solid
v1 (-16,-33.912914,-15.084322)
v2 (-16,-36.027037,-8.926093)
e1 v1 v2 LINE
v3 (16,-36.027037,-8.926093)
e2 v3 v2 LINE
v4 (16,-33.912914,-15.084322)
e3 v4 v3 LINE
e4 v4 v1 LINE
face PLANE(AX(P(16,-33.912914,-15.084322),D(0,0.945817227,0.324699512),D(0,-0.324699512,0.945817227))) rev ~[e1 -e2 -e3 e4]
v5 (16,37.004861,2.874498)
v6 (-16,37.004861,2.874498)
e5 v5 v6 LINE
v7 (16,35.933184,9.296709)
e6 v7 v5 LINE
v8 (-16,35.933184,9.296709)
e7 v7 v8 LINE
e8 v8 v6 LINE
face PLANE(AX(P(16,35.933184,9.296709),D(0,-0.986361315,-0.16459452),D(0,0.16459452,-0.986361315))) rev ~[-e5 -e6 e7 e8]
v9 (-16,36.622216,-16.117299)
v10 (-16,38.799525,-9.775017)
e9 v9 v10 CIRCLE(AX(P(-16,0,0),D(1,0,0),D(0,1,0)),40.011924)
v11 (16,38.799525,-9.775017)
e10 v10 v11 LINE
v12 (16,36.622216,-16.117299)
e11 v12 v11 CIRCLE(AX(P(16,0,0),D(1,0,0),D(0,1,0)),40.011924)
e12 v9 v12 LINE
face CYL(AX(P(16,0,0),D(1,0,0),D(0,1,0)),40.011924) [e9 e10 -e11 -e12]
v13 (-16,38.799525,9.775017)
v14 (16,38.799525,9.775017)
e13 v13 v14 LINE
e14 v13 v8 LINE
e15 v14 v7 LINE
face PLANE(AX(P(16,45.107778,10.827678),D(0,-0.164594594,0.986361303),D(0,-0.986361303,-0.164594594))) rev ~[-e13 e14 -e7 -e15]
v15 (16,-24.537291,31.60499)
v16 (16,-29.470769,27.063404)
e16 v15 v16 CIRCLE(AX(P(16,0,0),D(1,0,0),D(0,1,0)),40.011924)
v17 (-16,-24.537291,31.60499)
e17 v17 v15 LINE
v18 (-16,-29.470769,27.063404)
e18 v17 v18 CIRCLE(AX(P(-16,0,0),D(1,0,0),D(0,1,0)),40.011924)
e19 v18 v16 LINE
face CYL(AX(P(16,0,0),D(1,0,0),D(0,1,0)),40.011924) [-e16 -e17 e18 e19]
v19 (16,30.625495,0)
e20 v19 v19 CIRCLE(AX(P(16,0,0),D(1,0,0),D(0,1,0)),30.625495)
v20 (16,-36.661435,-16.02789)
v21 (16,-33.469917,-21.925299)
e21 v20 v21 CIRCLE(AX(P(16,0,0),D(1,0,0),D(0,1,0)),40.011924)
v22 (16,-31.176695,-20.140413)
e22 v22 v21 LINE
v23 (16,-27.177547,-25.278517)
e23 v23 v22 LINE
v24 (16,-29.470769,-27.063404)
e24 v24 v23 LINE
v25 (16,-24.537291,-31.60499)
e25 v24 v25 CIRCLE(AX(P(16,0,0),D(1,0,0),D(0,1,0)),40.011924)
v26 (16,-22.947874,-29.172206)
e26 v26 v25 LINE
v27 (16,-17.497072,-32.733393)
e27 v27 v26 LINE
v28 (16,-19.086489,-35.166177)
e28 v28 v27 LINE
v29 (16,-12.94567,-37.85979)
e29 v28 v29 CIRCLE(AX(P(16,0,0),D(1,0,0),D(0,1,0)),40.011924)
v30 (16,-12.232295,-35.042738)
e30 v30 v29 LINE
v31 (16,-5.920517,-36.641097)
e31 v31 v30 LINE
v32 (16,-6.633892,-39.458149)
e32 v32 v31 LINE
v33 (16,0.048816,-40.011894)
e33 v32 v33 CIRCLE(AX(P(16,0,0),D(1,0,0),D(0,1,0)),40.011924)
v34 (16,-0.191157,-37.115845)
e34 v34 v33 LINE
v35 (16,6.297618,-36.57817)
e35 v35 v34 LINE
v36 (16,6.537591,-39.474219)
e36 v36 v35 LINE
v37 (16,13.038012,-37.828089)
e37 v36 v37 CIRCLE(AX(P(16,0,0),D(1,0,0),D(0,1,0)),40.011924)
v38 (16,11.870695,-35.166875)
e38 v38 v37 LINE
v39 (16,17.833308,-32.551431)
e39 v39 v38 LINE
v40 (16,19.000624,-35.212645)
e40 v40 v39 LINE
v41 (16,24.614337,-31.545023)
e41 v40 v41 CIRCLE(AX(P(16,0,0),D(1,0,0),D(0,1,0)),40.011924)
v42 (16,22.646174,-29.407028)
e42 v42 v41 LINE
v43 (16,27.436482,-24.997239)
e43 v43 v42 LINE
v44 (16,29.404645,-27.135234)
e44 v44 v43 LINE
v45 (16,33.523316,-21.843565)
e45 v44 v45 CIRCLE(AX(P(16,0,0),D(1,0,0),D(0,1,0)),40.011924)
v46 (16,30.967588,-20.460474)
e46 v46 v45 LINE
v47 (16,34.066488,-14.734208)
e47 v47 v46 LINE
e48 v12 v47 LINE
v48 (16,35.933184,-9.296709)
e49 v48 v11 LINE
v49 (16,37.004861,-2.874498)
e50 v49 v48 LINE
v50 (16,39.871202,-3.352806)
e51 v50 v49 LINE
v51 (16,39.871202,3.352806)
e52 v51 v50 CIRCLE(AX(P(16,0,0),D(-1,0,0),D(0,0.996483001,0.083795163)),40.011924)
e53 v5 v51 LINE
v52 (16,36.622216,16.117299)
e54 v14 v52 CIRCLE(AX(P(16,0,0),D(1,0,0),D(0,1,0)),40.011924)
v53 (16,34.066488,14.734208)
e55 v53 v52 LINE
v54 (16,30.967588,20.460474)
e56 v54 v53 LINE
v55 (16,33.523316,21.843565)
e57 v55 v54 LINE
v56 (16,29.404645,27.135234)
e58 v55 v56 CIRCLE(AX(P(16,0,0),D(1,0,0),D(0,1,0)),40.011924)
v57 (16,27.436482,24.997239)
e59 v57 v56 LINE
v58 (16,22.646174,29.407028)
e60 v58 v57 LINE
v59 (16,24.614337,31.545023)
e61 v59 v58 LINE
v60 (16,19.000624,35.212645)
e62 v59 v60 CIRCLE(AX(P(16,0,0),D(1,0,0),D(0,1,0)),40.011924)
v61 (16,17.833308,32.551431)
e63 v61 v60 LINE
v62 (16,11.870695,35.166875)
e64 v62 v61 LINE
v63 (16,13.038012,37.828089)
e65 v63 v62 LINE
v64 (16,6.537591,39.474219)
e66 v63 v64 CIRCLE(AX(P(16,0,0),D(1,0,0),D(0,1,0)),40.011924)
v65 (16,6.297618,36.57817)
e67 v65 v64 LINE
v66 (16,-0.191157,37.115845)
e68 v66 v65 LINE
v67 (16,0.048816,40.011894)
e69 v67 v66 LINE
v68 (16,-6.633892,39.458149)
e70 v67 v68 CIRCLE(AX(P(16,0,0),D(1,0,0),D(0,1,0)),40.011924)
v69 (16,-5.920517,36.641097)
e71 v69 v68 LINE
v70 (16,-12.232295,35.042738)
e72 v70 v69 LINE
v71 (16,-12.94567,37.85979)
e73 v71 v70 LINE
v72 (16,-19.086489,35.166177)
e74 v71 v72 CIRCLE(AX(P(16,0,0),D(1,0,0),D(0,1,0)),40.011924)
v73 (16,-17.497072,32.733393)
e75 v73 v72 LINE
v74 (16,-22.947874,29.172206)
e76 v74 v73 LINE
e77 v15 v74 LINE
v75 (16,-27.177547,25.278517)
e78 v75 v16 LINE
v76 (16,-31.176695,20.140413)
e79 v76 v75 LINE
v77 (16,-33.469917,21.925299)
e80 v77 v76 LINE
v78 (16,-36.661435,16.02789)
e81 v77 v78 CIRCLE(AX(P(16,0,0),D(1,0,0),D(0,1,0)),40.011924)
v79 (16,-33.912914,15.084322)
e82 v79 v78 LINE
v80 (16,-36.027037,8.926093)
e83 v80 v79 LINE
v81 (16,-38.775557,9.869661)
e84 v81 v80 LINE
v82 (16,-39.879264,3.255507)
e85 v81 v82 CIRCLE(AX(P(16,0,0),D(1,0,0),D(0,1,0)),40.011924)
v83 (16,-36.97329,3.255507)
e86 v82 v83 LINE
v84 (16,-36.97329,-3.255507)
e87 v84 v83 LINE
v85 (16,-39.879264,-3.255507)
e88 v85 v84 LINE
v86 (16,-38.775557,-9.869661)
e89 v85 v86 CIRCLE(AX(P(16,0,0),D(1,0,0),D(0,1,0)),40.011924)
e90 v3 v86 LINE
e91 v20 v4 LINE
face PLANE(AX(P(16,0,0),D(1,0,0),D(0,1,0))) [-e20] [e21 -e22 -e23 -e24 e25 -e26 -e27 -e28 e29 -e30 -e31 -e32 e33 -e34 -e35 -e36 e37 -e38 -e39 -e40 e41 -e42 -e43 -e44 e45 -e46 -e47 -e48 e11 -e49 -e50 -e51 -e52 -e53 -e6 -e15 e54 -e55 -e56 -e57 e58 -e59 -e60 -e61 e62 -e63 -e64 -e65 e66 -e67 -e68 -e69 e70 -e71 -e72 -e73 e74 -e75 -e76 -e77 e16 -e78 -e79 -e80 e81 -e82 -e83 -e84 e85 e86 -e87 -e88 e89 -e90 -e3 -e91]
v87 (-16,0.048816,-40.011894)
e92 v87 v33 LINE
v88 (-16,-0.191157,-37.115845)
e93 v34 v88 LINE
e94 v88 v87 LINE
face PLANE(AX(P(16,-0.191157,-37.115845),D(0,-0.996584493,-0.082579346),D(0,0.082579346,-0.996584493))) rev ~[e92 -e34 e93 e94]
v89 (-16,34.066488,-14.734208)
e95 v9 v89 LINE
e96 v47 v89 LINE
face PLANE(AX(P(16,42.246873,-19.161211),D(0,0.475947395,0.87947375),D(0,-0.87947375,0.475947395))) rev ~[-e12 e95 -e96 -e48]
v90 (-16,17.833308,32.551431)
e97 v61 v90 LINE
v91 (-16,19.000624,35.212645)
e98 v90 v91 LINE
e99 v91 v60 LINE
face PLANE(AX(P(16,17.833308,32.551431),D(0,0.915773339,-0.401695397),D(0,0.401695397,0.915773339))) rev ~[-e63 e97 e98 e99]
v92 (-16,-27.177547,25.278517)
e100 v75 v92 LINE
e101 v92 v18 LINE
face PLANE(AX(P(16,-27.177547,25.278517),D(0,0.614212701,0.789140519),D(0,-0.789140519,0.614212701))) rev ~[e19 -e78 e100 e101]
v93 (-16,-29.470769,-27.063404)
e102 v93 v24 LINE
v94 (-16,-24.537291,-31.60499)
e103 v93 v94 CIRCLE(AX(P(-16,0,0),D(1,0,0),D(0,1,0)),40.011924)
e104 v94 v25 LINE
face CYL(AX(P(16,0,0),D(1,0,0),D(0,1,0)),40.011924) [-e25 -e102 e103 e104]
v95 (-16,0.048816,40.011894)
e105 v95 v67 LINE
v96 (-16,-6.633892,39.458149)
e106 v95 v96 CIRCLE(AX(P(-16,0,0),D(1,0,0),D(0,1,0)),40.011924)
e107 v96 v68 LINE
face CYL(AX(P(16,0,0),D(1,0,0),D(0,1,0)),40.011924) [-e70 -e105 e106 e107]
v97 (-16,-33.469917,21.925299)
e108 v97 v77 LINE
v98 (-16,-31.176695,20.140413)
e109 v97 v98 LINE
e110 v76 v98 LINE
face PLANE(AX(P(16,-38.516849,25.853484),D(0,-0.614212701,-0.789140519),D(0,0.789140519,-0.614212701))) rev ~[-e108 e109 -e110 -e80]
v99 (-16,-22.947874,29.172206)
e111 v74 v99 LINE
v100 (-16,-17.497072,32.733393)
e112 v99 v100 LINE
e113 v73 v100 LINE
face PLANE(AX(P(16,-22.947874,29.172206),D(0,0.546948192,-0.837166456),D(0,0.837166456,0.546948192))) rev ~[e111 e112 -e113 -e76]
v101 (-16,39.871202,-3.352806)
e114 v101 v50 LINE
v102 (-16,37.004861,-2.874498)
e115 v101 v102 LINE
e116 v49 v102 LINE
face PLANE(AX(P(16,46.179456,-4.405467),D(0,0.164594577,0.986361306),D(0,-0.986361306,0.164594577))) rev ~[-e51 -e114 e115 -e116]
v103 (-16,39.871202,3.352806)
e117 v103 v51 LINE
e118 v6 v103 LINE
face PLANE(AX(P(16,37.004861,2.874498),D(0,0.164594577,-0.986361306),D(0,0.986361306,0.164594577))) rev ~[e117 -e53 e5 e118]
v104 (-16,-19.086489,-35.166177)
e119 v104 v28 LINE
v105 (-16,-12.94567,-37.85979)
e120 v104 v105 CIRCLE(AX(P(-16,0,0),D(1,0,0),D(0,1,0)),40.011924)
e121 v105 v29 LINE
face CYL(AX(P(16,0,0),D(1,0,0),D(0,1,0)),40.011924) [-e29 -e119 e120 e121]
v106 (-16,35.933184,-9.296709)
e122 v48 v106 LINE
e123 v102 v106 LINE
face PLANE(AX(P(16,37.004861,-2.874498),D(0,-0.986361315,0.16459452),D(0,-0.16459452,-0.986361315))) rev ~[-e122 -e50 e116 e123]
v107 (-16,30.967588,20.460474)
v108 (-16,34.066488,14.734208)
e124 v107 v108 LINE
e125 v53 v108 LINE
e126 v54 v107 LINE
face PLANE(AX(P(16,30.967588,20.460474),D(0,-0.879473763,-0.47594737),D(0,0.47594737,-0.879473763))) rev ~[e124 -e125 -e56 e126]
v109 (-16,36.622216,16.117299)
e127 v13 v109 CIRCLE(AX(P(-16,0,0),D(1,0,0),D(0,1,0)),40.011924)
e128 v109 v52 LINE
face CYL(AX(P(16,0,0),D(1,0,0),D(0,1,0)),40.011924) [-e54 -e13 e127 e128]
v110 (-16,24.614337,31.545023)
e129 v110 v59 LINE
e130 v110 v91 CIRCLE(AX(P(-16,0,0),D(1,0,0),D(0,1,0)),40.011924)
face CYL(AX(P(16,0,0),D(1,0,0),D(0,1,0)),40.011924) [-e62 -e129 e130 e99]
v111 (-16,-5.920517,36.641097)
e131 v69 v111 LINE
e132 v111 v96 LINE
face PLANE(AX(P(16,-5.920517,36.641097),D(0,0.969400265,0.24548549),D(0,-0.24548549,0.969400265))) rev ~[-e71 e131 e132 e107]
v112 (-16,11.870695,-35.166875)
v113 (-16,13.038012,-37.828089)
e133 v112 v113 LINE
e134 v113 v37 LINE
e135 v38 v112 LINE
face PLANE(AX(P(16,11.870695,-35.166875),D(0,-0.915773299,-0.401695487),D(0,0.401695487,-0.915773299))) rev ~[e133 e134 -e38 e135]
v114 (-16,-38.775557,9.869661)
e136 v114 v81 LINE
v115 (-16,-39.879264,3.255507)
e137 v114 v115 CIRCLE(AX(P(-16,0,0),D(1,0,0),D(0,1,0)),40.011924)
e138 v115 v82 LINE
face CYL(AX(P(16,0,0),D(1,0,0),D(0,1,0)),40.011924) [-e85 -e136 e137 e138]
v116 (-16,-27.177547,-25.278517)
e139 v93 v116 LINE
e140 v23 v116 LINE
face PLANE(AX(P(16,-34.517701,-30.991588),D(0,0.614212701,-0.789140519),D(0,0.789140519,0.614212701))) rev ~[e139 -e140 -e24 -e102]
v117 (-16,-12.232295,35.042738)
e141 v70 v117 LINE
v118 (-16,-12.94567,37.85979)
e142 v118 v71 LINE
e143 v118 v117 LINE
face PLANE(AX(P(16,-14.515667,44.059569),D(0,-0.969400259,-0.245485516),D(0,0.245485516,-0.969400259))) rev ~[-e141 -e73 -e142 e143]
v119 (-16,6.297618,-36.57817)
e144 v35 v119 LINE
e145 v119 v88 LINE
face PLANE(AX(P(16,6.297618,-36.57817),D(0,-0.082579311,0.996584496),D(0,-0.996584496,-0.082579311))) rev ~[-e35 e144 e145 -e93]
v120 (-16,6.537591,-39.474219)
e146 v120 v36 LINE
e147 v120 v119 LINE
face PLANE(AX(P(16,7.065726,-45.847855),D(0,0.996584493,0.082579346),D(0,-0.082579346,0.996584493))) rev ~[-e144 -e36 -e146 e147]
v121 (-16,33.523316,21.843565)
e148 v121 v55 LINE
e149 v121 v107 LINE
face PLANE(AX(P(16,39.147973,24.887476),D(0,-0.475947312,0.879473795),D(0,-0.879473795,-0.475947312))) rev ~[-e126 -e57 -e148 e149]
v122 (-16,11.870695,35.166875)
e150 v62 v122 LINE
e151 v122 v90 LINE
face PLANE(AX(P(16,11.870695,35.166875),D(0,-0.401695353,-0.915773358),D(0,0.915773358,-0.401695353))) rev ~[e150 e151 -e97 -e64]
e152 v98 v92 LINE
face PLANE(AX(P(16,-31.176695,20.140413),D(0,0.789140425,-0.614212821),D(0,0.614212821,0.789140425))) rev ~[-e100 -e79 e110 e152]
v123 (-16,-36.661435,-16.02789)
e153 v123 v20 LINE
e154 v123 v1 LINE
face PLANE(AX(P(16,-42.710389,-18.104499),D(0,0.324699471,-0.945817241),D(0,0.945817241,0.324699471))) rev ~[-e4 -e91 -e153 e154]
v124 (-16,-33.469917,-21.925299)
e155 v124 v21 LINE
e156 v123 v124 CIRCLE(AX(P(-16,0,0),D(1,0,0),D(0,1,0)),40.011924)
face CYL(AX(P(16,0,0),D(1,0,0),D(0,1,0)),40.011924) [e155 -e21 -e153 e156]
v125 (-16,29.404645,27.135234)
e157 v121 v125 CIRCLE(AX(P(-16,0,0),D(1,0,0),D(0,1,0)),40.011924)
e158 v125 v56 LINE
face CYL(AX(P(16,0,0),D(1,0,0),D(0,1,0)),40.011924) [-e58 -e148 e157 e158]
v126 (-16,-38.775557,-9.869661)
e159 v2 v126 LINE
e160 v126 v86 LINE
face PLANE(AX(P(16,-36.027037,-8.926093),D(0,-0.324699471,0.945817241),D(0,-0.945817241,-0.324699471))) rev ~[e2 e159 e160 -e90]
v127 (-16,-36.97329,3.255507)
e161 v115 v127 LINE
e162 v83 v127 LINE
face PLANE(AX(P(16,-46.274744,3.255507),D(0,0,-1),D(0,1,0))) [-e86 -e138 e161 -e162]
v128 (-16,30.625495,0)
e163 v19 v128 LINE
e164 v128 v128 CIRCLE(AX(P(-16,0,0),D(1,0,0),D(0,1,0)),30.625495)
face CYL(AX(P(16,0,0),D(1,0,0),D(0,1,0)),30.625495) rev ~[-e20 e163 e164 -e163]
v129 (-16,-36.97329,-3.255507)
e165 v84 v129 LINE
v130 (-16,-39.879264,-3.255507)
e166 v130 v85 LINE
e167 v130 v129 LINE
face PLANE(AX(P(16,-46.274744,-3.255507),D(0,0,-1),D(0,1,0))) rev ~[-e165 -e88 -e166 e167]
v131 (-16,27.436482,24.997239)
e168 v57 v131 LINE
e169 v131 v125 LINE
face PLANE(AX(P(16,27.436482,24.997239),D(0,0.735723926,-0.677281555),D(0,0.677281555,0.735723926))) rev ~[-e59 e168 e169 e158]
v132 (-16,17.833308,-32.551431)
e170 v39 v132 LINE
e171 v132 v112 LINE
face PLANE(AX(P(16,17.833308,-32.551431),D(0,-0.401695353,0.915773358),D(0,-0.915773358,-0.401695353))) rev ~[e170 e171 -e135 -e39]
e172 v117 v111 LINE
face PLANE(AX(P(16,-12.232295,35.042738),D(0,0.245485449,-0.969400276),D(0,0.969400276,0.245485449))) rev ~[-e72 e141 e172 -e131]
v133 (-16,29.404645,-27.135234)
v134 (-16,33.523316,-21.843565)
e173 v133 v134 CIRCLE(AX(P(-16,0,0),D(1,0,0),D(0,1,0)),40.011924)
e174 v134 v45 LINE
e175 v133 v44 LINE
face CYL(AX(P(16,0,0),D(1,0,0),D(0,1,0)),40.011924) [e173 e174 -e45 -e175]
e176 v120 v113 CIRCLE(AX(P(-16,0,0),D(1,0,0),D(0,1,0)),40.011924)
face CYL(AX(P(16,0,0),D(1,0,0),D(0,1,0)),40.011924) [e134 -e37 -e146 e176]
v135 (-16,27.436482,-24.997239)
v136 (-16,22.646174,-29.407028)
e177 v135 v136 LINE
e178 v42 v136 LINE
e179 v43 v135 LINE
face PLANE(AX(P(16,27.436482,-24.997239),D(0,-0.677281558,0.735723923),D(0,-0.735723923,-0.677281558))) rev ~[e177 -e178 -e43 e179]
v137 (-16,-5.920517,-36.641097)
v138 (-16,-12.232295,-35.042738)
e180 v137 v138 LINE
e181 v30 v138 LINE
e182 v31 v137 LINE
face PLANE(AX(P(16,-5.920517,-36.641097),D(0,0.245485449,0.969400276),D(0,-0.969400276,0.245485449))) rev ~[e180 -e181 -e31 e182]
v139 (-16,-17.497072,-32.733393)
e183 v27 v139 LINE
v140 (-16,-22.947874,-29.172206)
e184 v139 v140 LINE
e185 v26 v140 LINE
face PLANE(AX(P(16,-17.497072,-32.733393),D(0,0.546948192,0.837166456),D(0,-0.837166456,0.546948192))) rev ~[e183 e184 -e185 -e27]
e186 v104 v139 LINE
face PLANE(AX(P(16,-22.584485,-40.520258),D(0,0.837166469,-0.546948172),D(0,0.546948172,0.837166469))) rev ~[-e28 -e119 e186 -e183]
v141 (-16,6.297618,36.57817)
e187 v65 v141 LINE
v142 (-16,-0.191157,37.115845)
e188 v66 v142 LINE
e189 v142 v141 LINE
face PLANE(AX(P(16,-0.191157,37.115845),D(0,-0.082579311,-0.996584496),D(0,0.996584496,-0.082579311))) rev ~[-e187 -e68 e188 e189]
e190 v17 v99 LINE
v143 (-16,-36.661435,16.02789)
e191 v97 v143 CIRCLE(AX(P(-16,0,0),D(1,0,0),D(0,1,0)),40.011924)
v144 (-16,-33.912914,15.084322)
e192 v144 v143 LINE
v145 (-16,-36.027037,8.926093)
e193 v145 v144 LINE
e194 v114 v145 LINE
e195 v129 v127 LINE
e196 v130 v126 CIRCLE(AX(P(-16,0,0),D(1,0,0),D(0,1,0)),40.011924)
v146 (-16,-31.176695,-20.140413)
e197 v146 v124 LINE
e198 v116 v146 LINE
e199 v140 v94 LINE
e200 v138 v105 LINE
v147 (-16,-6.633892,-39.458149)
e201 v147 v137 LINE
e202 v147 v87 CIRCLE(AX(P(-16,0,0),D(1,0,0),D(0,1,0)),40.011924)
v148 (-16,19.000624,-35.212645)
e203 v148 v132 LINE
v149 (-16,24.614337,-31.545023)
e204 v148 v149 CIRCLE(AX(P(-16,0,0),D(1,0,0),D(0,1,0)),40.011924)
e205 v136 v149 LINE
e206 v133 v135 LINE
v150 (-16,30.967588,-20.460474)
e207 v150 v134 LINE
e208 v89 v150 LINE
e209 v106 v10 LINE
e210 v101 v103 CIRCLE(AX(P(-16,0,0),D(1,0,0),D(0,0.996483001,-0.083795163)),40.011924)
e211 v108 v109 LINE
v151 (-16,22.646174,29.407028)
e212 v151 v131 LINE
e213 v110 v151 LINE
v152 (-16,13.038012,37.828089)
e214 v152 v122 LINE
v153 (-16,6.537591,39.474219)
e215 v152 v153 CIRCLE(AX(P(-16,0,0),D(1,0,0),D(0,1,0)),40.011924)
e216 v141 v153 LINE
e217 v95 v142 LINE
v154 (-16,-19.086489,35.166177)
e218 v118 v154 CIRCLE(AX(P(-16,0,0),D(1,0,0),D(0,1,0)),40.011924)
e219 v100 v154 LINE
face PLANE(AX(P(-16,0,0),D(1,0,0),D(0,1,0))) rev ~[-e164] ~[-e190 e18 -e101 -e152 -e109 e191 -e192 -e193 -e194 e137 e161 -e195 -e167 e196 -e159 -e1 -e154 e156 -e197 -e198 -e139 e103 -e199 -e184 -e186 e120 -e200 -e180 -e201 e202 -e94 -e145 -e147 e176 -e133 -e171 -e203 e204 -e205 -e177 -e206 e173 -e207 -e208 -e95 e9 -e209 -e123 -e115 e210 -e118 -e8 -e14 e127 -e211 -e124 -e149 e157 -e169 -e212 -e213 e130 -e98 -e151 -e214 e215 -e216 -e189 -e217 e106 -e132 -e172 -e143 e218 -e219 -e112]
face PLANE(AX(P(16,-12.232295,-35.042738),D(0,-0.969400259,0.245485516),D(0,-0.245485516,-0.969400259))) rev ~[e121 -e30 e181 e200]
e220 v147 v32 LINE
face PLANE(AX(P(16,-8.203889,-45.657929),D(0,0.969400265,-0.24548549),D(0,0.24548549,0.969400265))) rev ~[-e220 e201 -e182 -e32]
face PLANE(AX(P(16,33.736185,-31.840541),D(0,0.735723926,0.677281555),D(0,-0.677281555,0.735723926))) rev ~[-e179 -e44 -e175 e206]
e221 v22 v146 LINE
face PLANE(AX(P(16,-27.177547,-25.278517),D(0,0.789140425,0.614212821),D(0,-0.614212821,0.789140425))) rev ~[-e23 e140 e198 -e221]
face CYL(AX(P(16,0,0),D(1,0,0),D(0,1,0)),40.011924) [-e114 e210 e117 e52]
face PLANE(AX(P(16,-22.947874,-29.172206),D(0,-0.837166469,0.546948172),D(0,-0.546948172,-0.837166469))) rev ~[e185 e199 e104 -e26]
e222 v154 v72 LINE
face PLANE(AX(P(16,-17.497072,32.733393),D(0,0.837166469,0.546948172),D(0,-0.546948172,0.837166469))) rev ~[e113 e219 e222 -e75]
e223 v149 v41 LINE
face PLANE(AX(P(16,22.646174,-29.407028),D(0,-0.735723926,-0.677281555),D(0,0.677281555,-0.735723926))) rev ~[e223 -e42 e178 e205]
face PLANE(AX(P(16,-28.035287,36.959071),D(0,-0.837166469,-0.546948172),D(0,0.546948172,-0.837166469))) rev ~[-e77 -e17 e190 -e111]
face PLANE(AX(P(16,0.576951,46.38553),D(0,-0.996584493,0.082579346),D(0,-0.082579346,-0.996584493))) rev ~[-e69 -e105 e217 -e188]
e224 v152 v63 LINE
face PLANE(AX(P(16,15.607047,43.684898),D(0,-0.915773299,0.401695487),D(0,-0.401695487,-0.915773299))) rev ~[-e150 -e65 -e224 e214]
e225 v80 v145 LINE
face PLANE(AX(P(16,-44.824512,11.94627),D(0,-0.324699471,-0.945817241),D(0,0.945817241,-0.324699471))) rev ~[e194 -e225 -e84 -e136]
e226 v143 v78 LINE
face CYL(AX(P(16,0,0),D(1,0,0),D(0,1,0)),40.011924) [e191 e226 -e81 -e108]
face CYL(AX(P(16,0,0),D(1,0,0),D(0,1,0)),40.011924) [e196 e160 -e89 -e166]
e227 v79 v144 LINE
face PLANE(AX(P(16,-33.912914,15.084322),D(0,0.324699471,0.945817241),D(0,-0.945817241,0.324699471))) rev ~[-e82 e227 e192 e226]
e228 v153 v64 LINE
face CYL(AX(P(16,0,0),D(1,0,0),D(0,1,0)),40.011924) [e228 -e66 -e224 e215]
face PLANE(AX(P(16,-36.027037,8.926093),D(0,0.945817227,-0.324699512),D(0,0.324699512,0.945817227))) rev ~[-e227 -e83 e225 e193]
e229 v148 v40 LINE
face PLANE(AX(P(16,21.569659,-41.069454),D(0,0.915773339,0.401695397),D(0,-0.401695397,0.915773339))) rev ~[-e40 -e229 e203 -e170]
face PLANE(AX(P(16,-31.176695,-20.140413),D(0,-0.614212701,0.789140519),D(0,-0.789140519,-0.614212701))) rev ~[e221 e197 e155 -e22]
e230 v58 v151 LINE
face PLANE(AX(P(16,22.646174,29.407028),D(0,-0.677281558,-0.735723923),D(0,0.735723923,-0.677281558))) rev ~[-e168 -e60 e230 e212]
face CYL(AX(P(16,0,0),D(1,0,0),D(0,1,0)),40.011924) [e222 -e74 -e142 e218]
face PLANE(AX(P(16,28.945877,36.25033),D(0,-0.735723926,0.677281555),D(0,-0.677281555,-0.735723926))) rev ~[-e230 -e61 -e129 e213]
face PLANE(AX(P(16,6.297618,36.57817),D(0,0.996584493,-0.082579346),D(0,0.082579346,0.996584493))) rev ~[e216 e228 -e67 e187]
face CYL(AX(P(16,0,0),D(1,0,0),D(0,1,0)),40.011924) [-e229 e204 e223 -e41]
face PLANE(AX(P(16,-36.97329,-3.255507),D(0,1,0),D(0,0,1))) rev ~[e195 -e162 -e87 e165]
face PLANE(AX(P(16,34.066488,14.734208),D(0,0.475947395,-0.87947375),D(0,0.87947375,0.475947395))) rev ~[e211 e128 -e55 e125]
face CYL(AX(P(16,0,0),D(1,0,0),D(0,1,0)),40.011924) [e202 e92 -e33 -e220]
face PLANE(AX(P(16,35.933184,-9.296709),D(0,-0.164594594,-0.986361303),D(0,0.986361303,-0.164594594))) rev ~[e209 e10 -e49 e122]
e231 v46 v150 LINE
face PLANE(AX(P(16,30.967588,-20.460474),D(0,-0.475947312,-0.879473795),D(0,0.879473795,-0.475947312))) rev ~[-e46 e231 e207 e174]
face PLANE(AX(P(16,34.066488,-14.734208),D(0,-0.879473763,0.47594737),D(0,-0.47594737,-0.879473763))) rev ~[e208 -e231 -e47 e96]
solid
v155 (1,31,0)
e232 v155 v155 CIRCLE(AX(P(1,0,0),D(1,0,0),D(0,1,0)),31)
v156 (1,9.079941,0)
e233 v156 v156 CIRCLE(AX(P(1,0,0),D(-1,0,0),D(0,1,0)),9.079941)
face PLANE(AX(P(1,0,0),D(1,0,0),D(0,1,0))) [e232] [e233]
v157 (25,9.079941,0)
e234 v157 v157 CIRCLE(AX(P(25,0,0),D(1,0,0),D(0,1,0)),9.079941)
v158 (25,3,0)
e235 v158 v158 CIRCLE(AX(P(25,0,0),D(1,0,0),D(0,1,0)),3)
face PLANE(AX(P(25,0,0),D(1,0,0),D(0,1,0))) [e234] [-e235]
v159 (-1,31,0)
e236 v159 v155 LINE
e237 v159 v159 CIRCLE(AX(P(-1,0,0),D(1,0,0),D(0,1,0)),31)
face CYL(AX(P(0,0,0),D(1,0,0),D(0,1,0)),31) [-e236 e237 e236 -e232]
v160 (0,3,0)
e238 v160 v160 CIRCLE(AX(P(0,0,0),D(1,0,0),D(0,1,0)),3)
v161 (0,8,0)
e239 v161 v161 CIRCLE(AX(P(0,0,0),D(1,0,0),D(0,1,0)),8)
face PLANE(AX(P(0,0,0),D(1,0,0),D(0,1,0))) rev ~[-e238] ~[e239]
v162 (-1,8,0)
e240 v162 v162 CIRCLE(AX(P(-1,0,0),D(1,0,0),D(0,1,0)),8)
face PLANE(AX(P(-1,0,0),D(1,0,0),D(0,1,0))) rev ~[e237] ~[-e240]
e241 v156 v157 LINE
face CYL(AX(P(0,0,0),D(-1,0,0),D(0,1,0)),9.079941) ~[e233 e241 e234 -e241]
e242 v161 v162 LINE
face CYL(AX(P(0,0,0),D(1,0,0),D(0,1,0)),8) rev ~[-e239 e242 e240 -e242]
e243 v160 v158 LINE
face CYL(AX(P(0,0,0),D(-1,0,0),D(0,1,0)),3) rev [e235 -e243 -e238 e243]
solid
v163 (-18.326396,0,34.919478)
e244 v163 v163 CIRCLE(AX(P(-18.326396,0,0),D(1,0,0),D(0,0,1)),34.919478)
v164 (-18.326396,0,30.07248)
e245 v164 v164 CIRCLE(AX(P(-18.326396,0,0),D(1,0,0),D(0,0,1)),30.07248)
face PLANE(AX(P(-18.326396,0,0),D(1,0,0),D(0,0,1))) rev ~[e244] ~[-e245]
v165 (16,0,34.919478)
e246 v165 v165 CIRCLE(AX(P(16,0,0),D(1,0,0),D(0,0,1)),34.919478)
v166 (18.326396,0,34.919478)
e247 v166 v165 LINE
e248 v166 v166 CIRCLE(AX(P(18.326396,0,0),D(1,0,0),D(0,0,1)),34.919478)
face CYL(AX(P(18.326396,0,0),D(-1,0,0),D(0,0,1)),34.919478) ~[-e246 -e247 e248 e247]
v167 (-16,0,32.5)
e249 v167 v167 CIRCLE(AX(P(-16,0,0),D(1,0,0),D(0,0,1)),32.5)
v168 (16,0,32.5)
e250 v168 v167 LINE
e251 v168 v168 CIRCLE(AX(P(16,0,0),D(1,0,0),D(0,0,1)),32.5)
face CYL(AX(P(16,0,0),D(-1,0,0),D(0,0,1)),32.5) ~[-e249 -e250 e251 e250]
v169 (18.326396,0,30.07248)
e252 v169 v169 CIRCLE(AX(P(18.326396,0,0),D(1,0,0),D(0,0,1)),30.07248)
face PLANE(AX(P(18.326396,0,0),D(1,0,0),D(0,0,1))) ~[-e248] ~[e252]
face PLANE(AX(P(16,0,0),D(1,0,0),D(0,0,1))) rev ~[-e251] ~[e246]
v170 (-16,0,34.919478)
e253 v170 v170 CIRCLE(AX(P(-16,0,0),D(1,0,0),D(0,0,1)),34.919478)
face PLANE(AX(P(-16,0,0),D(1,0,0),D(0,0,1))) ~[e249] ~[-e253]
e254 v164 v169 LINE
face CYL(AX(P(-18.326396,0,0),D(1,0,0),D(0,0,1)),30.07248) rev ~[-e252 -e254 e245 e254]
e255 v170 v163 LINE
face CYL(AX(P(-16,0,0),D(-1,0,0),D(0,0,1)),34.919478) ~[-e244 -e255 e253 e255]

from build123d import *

# Parameters (mm, degrees)
F2_R          = 31
F2_R_2        = 8
F3_DEPTH      = 1
F3_DEPTH_BACK = 1
F4_R          = 9.079941
F4_R_2        = 3
F5_DEPTH      = 25
F7_R          = 40.011924
F7_R_2        = 30.625495
F8_DEPTH      = 32
F9_W          = 9.301454
F9_H          = 6.511014
F10_DEPTH     = 88


with BuildPart() as f1:
    # F0 (on Front) → F1 (revolve)
    with BuildSketch(Plane.XZ):
        Polygon((16, 32.5), (0, 32.5), (-16, 32.5), (-16, 34.919478), (-18.326396, 34.919478), (-18.326396, 30.07248), (0, 30.07248), (18.326396, 30.07248), (18.326396, 34.919478), (16, 34.919478), align=None)
    revolve(axis=Axis((1.106809, 0, 0), (1, 0, 0)))


with BuildPart() as f3:
    # F2 (on Right) → F3 (new body, two sides)
    with BuildSketch(Plane.YZ) as f3_sk:
        Circle(F2_R)
        Circle(F2_R_2, mode=Mode.SUBTRACT)
    extrude(amount=F3_DEPTH)
    extrude(f3_sk.sketch, amount=-F3_DEPTH_BACK)

    # F4 (on Right) → F5 (join)
    with BuildSketch(Plane.YZ):
        Circle(F4_R)
        Circle(F4_R_2, mode=Mode.SUBTRACT)
    extrude(amount=F5_DEPTH)


with BuildPart() as f8:
    # F7 (on offset) → F8 (new body)
    with BuildSketch(Plane.YZ.offset(16)):
        Circle(F7_R)
        Circle(F7_R_2, mode=Mode.SUBTRACT)
    extrude(amount=-F8_DEPTH)

    # F9 (on offset) → F10 (cut)
    with BuildSketch(Plane.YZ.offset(16)):
        with Locations((-41.624017, 0)):
            Rectangle(F9_W, F9_H)
        Polygon((-44.824512, 11.94627), (-36.027037, 8.926093), (-33.912914, 15.084322), (-42.710389, 18.104499), align=None)
        Polygon((-38.516849, 25.853484), (-31.176695, 20.140413), (-27.177547, 25.278517), (-34.517701, 30.991588), align=None)
        Polygon((-28.035287, 36.959071), (-22.947874, 29.172206), (-17.497072, 32.733393), (-22.584485, 40.520258), align=None)
        Polygon((-14.515667, 44.059569), (-12.232295, 35.042738), (-5.920517, 36.641097), (-8.203889, 45.657929), align=None)
        Polygon((0.576951, 46.38553), (-0.191157, 37.115845), (6.297618, 36.57817), (7.065726, 45.847855), align=None)
        Polygon((15.607047, 43.684898), (11.870695, 35.166875), (17.833308, 32.551431), (21.569659, 41.069454), align=None)
        Polygon((28.945877, 36.25033), (22.646174, 29.407028), (27.436482, 24.997239), (33.736185, 31.840541), align=None)
        Polygon((39.147973, 24.887476), (30.967588, 20.460474), (34.066488, 14.734208), (42.246873, 19.161211), align=None)
        Polygon((45.107778, 10.827678), (35.933184, 9.296709), (37.004861, 2.874498), (46.179456, 4.405467), align=None)
        Polygon((46.179456, -4.405467), (37.004861, -2.874498), (35.933184, -9.296709), (45.107778, -10.827678), align=None)
        Polygon((42.246873, -19.161211), (34.066488, -14.734208), (30.967588, -20.460474), (39.147973, -24.887476), align=None)
        Polygon((33.736185, -31.840541), (27.436482, -24.997239), (22.646174, -29.407028), (28.945877, -36.25033), align=None)
        Polygon((21.569659, -41.069454), (17.833308, -32.551431), (11.870695, -35.166875), (15.607047, -43.684898), align=None)
        Polygon((7.065726, -45.847855), (6.297618, -36.57817), (-0.191157, -37.115845), (0.576951, -46.38553), align=None)
        Polygon((-8.203889, -45.657929), (-5.920517, -36.641097), (-12.232295, -35.042738), (-14.515667, -44.059569), align=None)
        Polygon((-22.584485, -40.520258), (-17.497072, -32.733393), (-22.947874, -29.172206), (-28.035287, -36.959071), align=None)
        Polygon((-34.517701, -30.991588), (-27.177547, -25.278517), (-31.176695, -20.140413), (-38.516849, -25.853484), align=None)
        Polygon((-42.710389, -18.104499), (-33.912914, -15.084322), (-36.027037, -8.926093), (-44.824512, -11.94627), align=None)
    extrude(amount=-F10_DEPTH, mode=Mode.SUBTRACT)


solid = Compound([f1.part, f3.part, f8.part])
